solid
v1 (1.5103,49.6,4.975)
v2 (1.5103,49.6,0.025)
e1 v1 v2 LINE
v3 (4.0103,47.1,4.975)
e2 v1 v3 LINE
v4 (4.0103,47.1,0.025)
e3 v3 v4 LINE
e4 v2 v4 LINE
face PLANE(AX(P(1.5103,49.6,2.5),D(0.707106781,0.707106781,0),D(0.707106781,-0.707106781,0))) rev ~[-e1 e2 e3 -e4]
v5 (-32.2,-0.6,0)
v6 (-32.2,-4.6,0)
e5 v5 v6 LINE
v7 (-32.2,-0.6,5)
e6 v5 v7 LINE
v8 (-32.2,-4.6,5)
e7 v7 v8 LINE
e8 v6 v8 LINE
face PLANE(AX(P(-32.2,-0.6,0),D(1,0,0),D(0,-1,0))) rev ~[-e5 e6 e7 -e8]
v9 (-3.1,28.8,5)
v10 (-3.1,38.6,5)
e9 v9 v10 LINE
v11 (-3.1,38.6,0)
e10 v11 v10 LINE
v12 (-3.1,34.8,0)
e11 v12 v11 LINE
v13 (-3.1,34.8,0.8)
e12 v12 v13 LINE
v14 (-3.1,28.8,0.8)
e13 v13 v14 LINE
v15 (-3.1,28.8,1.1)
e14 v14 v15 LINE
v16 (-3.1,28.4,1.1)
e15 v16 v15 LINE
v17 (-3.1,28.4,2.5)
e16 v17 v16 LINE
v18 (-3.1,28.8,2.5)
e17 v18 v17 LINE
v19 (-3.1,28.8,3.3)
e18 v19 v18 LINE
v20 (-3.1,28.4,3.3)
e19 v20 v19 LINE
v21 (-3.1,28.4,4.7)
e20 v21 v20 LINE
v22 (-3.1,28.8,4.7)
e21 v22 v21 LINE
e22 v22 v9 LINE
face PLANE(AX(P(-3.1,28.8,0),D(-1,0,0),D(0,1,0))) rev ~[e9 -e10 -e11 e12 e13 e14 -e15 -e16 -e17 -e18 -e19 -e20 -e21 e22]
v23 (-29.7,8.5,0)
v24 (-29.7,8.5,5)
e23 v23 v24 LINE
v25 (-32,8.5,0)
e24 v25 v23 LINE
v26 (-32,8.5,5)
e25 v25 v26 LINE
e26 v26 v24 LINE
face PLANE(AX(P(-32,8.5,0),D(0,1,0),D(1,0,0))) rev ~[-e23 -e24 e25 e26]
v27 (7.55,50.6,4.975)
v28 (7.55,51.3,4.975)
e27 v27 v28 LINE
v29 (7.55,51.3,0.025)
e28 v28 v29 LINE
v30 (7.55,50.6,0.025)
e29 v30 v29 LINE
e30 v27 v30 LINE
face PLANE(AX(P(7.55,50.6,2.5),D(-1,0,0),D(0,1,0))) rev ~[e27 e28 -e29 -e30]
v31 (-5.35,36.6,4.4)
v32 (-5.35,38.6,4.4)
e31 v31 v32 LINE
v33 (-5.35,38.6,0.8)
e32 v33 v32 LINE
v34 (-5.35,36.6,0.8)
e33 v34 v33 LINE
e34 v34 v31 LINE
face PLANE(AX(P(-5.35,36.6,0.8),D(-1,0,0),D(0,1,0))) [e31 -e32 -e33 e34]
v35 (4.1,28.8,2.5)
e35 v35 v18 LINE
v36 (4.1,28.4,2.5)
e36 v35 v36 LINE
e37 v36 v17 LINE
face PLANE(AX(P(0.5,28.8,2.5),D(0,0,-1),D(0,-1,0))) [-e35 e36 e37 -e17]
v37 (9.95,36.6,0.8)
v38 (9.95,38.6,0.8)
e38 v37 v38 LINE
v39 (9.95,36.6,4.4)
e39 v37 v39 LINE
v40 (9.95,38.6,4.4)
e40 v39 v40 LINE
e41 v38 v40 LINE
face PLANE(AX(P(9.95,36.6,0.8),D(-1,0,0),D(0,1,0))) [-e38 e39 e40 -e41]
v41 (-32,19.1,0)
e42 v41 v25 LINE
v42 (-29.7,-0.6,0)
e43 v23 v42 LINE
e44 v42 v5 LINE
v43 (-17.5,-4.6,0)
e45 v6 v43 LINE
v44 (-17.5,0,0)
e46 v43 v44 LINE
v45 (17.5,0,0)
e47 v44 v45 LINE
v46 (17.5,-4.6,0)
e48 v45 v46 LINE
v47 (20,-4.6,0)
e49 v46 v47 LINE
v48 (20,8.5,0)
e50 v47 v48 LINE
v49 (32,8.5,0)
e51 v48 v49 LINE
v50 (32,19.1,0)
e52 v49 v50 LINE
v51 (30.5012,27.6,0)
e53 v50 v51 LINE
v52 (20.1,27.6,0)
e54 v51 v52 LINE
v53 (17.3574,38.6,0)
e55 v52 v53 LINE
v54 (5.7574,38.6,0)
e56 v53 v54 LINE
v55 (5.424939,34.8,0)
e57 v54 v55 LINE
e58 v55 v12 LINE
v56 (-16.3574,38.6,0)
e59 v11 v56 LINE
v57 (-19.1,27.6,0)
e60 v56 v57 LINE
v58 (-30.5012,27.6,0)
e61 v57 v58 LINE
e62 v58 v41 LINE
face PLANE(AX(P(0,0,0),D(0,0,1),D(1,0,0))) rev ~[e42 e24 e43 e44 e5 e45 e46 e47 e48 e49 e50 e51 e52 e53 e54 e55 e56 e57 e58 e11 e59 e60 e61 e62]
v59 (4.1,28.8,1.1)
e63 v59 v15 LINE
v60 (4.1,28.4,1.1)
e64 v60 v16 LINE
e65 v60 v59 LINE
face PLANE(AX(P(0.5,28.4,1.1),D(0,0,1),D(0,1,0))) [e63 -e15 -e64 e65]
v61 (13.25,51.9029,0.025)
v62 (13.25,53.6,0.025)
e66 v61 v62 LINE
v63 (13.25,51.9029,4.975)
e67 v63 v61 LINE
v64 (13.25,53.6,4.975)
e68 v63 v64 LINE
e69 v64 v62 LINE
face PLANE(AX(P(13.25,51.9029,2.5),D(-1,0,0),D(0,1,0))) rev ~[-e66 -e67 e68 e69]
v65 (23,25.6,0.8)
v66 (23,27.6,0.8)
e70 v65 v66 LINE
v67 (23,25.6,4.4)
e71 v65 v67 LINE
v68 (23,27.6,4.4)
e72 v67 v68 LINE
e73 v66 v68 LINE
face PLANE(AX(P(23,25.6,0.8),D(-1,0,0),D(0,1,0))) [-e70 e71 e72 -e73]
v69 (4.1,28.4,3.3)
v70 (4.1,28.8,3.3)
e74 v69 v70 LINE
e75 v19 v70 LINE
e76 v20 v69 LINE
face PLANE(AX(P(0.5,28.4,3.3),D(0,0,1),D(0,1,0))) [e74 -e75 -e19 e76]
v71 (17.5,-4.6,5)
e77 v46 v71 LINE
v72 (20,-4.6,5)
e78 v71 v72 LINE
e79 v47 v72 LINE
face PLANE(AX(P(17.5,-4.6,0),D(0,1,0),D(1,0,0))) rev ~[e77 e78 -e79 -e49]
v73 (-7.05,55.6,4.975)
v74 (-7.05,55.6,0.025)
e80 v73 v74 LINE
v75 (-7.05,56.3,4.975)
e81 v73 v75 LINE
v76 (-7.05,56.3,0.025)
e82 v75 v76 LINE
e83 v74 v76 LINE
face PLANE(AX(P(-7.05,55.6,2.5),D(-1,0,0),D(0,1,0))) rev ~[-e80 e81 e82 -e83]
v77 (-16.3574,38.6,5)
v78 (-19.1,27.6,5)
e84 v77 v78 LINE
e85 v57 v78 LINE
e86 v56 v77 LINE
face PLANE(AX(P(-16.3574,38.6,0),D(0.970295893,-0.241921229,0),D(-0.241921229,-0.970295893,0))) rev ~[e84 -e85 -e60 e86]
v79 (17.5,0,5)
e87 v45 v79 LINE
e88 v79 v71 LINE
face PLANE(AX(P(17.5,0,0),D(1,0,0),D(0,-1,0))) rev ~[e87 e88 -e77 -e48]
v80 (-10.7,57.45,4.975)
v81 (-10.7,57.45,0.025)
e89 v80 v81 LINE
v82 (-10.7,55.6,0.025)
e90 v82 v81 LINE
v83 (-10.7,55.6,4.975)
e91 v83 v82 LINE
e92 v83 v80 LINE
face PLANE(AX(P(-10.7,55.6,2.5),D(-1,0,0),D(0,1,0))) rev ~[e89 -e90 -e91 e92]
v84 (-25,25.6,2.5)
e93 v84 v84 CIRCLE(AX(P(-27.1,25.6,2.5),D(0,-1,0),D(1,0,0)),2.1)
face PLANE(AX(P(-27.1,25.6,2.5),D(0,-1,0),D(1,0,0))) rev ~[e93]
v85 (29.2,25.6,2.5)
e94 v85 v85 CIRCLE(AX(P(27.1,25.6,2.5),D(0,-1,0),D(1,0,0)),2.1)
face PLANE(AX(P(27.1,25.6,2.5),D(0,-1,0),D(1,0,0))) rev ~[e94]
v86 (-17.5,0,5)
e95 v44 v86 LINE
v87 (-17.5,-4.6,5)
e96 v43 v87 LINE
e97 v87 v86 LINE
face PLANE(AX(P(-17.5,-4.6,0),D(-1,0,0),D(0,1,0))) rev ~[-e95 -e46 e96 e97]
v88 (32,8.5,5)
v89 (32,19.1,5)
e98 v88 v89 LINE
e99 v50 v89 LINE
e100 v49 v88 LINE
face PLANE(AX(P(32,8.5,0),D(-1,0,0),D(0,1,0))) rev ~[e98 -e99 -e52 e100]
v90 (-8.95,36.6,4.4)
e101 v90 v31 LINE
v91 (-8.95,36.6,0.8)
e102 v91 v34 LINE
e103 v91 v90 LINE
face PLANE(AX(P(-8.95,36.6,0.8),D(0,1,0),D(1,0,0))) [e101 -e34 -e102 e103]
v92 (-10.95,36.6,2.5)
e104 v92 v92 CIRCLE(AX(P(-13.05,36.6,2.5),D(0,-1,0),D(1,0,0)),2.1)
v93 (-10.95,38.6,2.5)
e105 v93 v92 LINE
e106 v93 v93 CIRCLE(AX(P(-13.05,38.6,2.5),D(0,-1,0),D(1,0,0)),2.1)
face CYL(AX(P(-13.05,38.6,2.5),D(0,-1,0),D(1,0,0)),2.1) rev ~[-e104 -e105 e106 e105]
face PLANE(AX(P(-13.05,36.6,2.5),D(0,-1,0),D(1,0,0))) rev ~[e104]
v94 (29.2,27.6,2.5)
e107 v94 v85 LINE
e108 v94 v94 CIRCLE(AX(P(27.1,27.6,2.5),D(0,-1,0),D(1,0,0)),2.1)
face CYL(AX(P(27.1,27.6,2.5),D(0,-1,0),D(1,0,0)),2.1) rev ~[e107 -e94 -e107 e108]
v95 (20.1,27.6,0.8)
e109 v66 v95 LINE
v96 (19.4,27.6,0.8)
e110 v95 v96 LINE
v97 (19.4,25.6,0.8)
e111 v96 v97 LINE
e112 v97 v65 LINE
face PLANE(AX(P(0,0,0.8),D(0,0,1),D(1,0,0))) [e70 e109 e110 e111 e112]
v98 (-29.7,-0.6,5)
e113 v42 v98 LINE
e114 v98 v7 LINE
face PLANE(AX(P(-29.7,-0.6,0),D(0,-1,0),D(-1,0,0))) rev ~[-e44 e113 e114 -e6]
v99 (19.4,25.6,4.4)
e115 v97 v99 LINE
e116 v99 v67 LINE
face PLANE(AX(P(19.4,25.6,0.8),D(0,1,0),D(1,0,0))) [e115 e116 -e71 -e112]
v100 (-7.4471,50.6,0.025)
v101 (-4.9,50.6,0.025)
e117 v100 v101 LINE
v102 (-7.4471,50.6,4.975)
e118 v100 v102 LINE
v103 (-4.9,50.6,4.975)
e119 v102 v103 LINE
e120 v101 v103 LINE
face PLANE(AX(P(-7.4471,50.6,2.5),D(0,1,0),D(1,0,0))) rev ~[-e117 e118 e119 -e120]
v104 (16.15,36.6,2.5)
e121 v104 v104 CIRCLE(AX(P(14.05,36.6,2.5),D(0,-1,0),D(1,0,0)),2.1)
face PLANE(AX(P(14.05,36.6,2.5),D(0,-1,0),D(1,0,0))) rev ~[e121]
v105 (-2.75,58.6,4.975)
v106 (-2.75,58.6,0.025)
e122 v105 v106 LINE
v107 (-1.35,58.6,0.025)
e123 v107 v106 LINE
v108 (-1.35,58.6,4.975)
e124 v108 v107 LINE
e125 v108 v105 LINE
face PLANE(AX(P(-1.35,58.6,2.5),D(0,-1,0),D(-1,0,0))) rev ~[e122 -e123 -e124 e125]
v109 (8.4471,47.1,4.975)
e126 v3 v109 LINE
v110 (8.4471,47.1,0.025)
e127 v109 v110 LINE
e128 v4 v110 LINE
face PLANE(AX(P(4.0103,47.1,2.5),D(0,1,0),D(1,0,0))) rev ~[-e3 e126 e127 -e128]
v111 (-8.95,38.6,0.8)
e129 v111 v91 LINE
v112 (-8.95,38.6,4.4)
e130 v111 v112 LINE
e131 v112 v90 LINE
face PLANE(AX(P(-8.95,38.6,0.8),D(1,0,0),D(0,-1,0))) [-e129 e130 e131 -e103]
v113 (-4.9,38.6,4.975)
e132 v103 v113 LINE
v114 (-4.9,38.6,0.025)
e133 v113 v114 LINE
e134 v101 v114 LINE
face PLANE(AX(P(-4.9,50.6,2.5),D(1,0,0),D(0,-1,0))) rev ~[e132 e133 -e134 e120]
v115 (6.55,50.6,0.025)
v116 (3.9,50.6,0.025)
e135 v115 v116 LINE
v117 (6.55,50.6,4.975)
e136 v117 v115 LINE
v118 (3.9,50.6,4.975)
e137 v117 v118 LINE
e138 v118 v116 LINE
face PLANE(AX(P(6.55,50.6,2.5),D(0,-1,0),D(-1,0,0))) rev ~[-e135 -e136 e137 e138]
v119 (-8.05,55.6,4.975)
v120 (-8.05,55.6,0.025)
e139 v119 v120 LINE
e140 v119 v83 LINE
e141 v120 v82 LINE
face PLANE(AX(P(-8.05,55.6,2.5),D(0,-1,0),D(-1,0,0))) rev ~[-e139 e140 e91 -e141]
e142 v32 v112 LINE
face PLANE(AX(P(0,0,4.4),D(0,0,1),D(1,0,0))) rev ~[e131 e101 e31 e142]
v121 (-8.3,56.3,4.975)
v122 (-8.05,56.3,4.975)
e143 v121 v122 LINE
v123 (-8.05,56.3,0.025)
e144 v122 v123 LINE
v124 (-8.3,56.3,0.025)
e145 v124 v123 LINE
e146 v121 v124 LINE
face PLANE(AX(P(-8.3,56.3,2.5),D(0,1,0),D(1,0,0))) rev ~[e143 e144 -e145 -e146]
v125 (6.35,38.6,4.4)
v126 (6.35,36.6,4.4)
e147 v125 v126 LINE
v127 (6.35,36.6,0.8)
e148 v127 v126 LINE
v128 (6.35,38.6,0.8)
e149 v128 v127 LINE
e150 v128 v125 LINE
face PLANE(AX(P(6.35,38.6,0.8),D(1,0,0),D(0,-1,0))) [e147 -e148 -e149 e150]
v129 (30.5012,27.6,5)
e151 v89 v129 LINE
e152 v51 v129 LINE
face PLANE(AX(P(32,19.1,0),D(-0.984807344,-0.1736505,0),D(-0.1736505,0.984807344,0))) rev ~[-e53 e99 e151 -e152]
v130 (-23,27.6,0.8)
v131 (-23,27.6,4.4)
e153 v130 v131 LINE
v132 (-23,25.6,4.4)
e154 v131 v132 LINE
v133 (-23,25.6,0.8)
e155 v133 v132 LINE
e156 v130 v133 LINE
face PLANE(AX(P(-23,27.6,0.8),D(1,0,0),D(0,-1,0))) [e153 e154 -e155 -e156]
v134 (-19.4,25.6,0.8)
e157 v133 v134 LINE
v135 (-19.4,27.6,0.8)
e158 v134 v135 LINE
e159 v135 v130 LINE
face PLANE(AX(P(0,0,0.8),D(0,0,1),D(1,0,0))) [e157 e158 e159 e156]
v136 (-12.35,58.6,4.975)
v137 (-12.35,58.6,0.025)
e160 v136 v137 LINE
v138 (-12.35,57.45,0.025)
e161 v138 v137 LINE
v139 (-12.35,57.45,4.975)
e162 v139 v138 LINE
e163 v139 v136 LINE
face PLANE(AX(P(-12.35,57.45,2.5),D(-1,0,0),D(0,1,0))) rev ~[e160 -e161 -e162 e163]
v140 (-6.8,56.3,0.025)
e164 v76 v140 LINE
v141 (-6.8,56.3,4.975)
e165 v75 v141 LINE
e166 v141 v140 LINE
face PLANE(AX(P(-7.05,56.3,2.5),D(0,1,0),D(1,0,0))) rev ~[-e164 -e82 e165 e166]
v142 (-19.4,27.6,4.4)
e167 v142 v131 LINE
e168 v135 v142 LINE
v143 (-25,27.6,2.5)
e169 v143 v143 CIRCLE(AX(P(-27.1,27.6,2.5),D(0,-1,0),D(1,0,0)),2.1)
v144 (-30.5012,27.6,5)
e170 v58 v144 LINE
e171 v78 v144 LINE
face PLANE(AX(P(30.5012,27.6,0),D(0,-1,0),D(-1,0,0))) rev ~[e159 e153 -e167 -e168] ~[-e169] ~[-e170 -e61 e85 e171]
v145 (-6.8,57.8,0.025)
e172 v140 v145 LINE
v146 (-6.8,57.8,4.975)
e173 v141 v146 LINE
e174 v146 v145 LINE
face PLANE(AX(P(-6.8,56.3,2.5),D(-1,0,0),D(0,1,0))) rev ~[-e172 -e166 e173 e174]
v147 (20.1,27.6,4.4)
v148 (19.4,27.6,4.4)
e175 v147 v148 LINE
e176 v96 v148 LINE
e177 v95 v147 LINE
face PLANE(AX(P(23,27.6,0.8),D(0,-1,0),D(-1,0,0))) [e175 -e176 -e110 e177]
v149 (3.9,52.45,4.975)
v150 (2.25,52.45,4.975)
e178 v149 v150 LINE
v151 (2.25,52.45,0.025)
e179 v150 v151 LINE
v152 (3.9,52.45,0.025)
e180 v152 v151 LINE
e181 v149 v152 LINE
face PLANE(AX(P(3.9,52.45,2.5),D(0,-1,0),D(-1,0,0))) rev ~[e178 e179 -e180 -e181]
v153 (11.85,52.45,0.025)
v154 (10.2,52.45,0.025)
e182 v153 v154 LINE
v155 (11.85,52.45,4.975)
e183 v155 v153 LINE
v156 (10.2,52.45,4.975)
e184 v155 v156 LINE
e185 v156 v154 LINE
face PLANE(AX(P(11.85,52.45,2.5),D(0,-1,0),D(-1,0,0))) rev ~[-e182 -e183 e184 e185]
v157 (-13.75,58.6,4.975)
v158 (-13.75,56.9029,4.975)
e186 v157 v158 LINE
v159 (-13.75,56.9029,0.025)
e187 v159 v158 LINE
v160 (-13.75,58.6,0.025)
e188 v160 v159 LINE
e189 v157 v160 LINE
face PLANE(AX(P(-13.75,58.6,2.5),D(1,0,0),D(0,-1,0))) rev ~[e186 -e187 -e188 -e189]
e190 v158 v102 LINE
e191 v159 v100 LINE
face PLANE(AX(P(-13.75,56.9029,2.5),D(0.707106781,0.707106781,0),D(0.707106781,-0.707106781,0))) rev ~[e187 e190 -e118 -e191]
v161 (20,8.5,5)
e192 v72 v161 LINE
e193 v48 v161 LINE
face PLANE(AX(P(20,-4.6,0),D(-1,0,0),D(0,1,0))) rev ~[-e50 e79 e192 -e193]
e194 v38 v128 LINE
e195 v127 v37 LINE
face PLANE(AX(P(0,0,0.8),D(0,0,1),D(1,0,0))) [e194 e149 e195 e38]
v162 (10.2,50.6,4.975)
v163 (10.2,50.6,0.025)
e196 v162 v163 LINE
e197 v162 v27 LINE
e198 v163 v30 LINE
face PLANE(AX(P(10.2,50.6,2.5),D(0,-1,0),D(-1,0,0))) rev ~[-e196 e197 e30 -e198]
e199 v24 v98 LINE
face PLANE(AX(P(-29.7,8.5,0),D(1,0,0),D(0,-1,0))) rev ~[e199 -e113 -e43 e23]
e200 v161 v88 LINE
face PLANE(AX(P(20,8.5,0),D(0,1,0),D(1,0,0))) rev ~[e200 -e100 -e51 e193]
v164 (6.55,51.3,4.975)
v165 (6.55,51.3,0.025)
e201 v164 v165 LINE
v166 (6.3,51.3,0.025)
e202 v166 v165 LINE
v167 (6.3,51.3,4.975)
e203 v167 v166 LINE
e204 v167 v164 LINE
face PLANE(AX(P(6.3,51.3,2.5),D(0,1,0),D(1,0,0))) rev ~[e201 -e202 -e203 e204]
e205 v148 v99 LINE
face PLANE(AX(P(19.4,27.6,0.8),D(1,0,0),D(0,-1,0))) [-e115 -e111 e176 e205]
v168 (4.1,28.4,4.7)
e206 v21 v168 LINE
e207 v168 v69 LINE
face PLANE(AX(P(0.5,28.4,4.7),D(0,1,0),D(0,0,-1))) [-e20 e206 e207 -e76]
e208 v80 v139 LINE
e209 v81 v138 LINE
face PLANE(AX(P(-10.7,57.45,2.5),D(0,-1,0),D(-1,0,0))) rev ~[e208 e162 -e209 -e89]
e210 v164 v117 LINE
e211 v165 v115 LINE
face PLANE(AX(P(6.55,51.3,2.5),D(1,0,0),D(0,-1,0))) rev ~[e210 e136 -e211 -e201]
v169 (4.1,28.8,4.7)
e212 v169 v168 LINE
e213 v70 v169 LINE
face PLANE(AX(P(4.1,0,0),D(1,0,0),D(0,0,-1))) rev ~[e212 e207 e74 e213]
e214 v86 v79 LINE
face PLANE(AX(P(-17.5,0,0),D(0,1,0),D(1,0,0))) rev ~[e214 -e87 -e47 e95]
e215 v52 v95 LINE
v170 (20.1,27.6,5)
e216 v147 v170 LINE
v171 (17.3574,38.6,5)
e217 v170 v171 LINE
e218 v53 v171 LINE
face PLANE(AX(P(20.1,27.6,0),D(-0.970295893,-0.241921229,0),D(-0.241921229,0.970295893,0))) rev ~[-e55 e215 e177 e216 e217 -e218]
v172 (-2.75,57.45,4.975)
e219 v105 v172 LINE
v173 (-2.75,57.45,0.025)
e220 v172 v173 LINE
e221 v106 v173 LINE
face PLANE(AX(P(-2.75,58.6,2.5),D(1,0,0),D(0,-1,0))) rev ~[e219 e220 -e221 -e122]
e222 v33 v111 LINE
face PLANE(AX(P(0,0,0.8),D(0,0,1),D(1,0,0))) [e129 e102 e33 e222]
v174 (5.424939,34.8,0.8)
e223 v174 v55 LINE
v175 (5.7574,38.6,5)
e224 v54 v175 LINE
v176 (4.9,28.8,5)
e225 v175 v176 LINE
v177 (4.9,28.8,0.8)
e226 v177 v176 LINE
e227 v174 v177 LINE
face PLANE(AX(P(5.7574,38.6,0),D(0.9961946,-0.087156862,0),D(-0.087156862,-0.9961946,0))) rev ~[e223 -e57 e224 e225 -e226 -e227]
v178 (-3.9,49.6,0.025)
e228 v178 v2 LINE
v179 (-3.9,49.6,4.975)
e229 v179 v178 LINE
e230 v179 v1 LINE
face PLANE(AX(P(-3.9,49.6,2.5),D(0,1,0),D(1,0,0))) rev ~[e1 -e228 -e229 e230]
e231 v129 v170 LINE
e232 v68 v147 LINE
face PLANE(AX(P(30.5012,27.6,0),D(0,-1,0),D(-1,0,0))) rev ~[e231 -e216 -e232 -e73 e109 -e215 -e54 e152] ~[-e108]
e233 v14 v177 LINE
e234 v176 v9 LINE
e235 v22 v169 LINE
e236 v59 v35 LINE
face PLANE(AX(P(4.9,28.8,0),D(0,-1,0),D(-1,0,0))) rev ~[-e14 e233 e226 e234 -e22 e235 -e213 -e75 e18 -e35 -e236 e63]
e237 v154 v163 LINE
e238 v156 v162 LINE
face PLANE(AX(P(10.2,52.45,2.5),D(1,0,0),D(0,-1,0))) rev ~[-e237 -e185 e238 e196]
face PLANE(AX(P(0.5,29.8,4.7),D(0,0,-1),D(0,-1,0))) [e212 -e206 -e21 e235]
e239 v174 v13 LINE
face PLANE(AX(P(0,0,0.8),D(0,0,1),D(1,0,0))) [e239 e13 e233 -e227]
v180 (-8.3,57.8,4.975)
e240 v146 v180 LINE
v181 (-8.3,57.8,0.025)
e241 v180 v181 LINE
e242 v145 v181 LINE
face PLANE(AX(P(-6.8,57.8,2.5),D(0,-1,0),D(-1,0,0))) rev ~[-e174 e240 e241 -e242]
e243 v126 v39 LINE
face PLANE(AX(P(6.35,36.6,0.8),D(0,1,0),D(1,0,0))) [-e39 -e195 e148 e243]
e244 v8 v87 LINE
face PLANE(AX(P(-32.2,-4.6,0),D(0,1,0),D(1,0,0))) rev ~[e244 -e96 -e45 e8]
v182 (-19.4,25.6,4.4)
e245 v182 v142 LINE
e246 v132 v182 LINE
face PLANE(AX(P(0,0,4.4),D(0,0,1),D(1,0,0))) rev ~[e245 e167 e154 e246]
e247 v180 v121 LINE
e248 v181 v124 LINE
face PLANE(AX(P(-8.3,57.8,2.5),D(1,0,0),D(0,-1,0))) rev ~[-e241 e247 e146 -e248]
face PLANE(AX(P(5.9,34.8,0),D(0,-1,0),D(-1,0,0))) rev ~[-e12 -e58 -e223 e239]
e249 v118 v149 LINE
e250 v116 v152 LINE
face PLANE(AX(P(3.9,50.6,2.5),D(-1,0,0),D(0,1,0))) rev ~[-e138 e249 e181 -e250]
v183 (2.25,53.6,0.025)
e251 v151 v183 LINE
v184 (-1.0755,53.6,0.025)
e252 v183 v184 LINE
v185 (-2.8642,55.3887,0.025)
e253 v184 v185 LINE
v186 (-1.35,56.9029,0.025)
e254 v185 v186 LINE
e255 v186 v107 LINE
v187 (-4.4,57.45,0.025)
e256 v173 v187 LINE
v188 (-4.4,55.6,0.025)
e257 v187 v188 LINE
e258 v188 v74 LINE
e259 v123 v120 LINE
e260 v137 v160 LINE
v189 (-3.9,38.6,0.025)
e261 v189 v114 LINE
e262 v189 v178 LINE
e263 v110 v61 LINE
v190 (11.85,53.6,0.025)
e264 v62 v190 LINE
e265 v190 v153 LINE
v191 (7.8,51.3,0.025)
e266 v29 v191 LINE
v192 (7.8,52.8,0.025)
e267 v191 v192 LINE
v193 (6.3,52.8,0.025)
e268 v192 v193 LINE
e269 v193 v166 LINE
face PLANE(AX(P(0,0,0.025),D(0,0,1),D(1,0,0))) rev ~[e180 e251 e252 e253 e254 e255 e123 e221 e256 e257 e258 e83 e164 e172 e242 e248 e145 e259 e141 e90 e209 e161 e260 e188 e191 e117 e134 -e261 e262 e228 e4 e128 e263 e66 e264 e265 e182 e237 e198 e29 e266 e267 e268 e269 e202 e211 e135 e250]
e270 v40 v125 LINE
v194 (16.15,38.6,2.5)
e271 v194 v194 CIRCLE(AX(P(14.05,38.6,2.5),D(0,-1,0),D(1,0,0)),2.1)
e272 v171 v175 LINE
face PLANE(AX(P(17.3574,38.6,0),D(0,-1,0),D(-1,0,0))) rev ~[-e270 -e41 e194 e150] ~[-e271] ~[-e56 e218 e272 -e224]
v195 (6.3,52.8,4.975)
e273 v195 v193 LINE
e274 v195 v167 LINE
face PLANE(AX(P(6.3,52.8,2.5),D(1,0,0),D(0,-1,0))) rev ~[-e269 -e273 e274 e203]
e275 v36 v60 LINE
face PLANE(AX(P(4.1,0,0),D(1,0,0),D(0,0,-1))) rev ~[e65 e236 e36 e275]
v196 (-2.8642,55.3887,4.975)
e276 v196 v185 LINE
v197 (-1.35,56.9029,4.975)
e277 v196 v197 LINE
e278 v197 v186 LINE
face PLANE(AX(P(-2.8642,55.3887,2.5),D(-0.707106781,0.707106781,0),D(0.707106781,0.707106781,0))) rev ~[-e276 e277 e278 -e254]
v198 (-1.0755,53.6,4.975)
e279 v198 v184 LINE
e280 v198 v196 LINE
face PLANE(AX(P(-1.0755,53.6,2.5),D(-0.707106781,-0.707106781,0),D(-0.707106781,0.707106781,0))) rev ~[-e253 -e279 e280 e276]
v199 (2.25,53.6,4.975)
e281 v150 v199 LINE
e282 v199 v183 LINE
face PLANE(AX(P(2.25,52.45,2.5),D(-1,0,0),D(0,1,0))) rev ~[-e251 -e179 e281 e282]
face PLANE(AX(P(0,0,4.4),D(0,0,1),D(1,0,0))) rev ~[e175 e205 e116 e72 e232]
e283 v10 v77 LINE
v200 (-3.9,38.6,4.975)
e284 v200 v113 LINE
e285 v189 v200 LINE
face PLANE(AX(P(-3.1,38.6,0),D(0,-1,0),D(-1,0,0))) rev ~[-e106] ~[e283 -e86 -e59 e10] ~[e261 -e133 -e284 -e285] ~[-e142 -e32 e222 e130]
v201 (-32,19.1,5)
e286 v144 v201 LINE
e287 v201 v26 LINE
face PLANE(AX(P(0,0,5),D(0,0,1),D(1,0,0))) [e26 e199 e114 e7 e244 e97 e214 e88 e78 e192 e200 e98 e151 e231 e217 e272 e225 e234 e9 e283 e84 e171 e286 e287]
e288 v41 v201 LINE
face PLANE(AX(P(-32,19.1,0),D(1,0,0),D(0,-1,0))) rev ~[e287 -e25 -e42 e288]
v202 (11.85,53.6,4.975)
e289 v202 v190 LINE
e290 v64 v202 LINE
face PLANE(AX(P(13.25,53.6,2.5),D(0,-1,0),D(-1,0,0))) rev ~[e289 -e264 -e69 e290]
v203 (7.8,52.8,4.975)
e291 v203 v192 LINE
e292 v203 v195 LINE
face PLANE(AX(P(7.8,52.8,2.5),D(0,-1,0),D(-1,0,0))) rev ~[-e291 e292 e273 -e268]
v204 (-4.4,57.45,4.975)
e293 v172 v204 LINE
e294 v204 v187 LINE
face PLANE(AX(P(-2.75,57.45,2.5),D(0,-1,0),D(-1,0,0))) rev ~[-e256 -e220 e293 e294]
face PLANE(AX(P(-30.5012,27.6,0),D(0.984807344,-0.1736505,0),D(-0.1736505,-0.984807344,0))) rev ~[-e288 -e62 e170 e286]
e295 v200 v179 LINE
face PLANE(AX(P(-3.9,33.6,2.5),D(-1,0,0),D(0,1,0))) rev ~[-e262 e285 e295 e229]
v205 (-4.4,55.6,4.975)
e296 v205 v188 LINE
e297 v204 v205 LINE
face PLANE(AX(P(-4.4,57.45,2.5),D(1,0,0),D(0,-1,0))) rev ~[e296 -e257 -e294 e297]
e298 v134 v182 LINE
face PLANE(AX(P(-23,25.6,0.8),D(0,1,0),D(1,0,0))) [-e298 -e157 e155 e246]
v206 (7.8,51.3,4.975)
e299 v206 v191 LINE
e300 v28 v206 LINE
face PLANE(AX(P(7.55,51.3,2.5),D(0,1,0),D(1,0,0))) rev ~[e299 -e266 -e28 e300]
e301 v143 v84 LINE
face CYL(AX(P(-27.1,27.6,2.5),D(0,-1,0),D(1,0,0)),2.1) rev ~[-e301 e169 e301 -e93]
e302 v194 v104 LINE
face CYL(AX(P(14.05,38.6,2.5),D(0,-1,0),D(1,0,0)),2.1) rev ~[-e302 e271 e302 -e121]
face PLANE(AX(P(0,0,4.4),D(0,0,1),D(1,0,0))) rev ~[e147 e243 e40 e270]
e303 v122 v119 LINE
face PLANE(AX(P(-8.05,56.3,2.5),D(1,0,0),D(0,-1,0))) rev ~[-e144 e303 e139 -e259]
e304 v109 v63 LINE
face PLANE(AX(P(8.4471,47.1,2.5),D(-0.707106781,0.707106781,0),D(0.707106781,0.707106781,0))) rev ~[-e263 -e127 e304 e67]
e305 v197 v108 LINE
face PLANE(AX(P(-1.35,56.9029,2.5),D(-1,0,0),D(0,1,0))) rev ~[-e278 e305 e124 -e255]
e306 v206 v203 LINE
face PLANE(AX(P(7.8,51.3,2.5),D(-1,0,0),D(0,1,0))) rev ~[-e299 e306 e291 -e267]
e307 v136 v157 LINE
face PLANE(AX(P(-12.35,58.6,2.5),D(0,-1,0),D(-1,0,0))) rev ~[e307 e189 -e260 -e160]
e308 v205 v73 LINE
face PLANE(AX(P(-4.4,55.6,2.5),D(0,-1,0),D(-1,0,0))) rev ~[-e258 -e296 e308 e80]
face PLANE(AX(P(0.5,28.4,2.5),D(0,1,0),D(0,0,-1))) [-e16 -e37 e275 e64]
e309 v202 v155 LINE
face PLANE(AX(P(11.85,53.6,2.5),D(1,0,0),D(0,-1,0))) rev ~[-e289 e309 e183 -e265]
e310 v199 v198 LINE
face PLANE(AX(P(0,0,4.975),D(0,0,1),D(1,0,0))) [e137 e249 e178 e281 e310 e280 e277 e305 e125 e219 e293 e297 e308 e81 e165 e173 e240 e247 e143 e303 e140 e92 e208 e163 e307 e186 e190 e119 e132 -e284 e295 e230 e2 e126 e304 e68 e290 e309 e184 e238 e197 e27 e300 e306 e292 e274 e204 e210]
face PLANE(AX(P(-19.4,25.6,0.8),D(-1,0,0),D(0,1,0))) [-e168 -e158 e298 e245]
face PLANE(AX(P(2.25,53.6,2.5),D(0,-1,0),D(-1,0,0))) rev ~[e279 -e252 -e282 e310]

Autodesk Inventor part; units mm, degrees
sketch "Sketch_1" plane through (0, 0, 0) normal (0, 0, 1) x (1, 0, 0)
  line L0 (-32.2, -0.6) -> (-32.2, -4.6)
  line L1 (-32.2, -4.6) -> (-17.5, -4.6)
  line L2 (-17.5, -4.6) -> (-17.5, 0)
  line L3 (-17.5, 0) -> (17.5, 0)
  line L4 (17.5, 0) -> (17.5, -4.6)
  line L5 (17.5, -4.6) -> (20, -4.6)
  line L6 (20, -4.6) -> (20, 8.5)
  line L7 (20, 8.5) -> (32, 8.5)
  line L8 (32, 8.5) -> (32, 19.1)
  line L9 (32, 19.1) -> (30.5012, 27.6)
  line L10 (30.5012, 27.6) -> (-30.5012, 27.6)
  line L11 (-30.5012, 27.6) -> (-32, 19.1)
  line L12 (-32, 19.1) -> (-32, 8.5)
  line L13 (-32, 8.5) -> (-29.7, 8.5)
  line L14 (-29.7, 8.5) -> (-29.7, -0.6)
  line L15 (-29.7, -0.6) -> (-32.2, -0.6)
extrude "Extrusion1" add sketch "Sketch_1" along normal blind 5
sketch "Sketch_2" plane through (0, 0, 0) normal (0, 0, 1) x (1, 0, 0)
  line L0 (-19.1, 27.6) -> (-18.2, 27.6)
  line L1 (-18.2, 27.6) -> (-18.2, 15.1)
  line L2 (-18.2, 15.1) -> (19.2, 15.1)
  line L3 (19.2, 15.1) -> (19.2, 27.6)
  line L4 (19.2, 27.6) -> (20.1, 27.6)
  line L5 (20.1, 27.6) -> (17.3574, 38.6)
  line L6 (17.3574, 38.6) -> (5.7574, 38.6)
  line L7 (5.7574, 38.6) -> (4.9, 28.8)
  line L8 (4.9, 28.8) -> (-3.1, 28.8)
  line L9 (-3.1, 28.8) -> (-3.1, 38.6)
  line L10 (-3.1, 38.6) -> (-16.3574, 38.6)
  line L11 (-16.3574, 38.6) -> (-19.1, 27.6)
extrude "Extrusion2" add sketch "Sketch_2" along normal blind 5
sketch "Skizze_3" plane through (0, 0, 0) normal (0, 0, 1) x (1, 0, 0)
  line L0 (-3.1, 34.8) -> (-3.1, 28.8)
  line L1 (-3.1, 28.8) -> (5.9, 28.8)
  line L2 (5.9, 28.8) -> (5.9, 34.8)
  line L3 (5.9, 34.8) -> (-3.1, 34.8)
extrude "Extrusion3" add sketch "Skizze_3" along normal blind 0.8
sketch "Sketch_3" plane through (0.5, 0, 0) normal (1, 0, 0) x (0, 0, -1)
  line L0 (-4.7, 28.4) -> (-3.3, 28.4)
  line L1 (-3.3, 28.4) -> (-3.3, 28.8)
  line L2 (-3.3, 28.8) -> (-2.5, 28.8)
  line L3 (-2.5, 28.8) -> (-2.5, 28.4)
  line L4 (-2.5, 28.4) -> (-1.1, 28.4)
  line L5 (-1.1, 28.4) -> (-1.1, 29.8)
  line L6 (-1.1, 29.8) -> (-4.7, 29.8)
  line L7 (-4.7, 29.8) -> (-4.7, 28.4)
extrude "Extrusion4" cut sketch "Sketch_3" along normal mid plane 7.2
sketch "Sketch_4" plane through (0, 0, 2.5) normal (0, 0, 1) x (1, 0, 0)
  line L0 (27.1, 25.6) -> (27.1, 27.6)
  line L1 (27.1, 27.6) -> (29.2, 27.6)
  line L2 (29.2, 27.6) -> (29.2, 25.6)
  line L3 (29.2, 25.6) -> (27.1, 25.6)
  line L4 (27.1, 25.6) -> (27.1, 27.6)
revolve "Revolution1" cut sketch "Sketch_4" angle 360 about axis through (27.1, 25.6, 2.5) along (0, -1, 0)
sketch "Sketch_5" plane through (0, 0, 2.5) normal (0, 0, 1) x (1, 0, 0)
  line L0 (-27.1, 25.6) -> (-27.1, 27.6)
  line L1 (-27.1, 27.6) -> (-25, 27.6)
  line L2 (-25, 27.6) -> (-25, 25.6)
  line L3 (-25, 25.6) -> (-27.1, 25.6)
  line L4 (-27.1, 25.6) -> (-27.1, 27.6)
revolve "Revolution2" cut sketch "Sketch_5" angle 360 about axis through (-27.1, 25.6, 2.5) along (0, -1, 0)
sketch "Sketch_6" plane through (0, 0, 2.5) normal (0, 0, 1) x (1, 0, 0)
  line L0 (14.05, 36.6) -> (14.05, 38.6)
  line L1 (14.05, 38.6) -> (16.15, 38.6)
  line L2 (16.15, 38.6) -> (16.15, 36.6)
  line L3 (16.15, 36.6) -> (14.05, 36.6)
  line L4 (14.05, 36.6) -> (14.05, 38.6)
revolve "Revolution3" cut sketch "Sketch_6" angle 360 about axis through (14.05, 36.6, 2.5) along (0, -1, 0)
sketch "Sketch_7" plane through (0, 0, 2.5) normal (0, 0, 1) x (1, 0, 0)
  line L0 (-13.05, 36.6) -> (-13.05, 38.6)
  line L1 (-13.05, 38.6) -> (-10.95, 38.6)
  line L2 (-10.95, 38.6) -> (-10.95, 36.6)
  line L3 (-10.95, 36.6) -> (-13.05, 36.6)
  line L4 (-13.05, 36.6) -> (-13.05, 38.6)
revolve "Revolution4" cut sketch "Sketch_7" angle 360 about axis through (-13.05, 36.6, 2.5) along (0, -1, 0)
sketch "Skizze_15" plane through (0, 0, 2.5) normal (0, 0, 1) x (1, 0, 0)
  line L0 (-4.9, 36.6) -> (-3.9, 36.6)
  line L1 (-3.9, 36.6) -> (-3.9, 38.6)
  line L2 (-3.9, 38.6) -> (-4.9, 38.6)
  line L3 (-4.9, 38.6) -> (-4.9, 36.6)
extrude "Extrusion5" cut sketch "Skizze_15" along normal mid plane 4.1
sketch "Skizze_11" plane through (0, 0, 0.8) normal (0, 0, 1) x (1, 0, 0)
  line L0 (19.4, 25.6) -> (23, 25.6)
  line L1 (23, 25.6) -> (23, 27.6)
  line L2 (23, 27.6) -> (19.4, 27.6)
  line L3 (19.4, 27.6) -> (19.4, 25.6)
extrude "Extrusion6" cut sketch "Skizze_11" along normal blind 3.6
sketch "Skizze_12" plane through (0, 0, 0.8) normal (0, 0, 1) x (1, 0, 0)
  line L0 (-23, 25.6) -> (-19.4, 25.6)
  line L1 (-19.4, 25.6) -> (-19.4, 27.6)
  line L2 (-19.4, 27.6) -> (-23, 27.6)
  line L3 (-23, 27.6) -> (-23, 25.6)
extrude "Extrusion7" cut sketch "Skizze_12" along normal blind 3.6
sketch "Skizze_13" plane through (0, 0, 0.8) normal (0, 0, 1) x (1, 0, 0)
  line L0 (6.35, 36.6) -> (9.95, 36.6)
  line L1 (9.95, 36.6) -> (9.95, 38.6)
  line L2 (9.95, 38.6) -> (6.35, 38.6)
  line L3 (6.35, 38.6) -> (6.35, 36.6)
extrude "Extrusion8" cut sketch "Skizze_13" along normal blind 3.6
sketch "Skizze_14" plane through (0, 0, 0.8) normal (0, 0, 1) x (1, 0, 0)
  line L0 (-8.95, 36.6) -> (-5.35, 36.6)
  line L1 (-5.35, 36.6) -> (-5.35, 38.6)
  line L2 (-5.35, 38.6) -> (-8.95, 38.6)
  line L3 (-8.95, 38.6) -> (-8.95, 36.6)
extrude "Extrusion9" cut sketch "Skizze_14" along normal blind 3.6
sketch "Sketch_8" plane through (0, 0, 2.5) normal (0, 0, 1) x (1, 0, 0)
  line L0 (-13.75, 56.9029) -> (-7.4471, 50.6)
  line L1 (-7.4471, 50.6) -> (-4.9, 50.6)
  line L2 (-4.9, 50.6) -> (-4.9, 33.6)
  line L3 (-4.9, 33.6) -> (-3.9, 33.6)
  line L4 (-3.9, 33.6) -> (-3.9, 49.6)
  line L5 (-3.9, 49.6) -> (1.5103, 49.6)
  line L6 (1.5103, 49.6) -> (4.0103, 47.1)
  line L7 (4.0103, 47.1) -> (8.4471, 47.1)
  line L8 (8.4471, 47.1) -> (13.25, 51.9029)
  line L9 (13.25, 51.9029) -> (13.25, 53.6)
  line L10 (13.25, 53.6) -> (11.85, 53.6)
  line L11 (11.85, 53.6) -> (11.85, 52.45)
  line L12 (11.85, 52.45) -> (10.2, 52.45)
  line L13 (10.2, 52.45) -> (10.2, 50.6)
  line L14 (10.2, 50.6) -> (7.55, 50.6)
  line L15 (7.55, 50.6) -> (7.55, 51.3)
  line L16 (7.55, 51.3) -> (7.8, 51.3)
  line L17 (7.8, 51.3) -> (7.8, 52.8)
  line L18 (7.8, 52.8) -> (6.3, 52.8)
  line L19 (6.3, 52.8) -> (6.3, 51.3)
  line L20 (6.3, 51.3) -> (6.55, 51.3)
  line L21 (6.55, 51.3) -> (6.55, 50.6)
  line L22 (6.55, 50.6) -> (3.9, 50.6)
  line L23 (3.9, 50.6) -> (3.9, 52.45)
  line L24 (3.9, 52.45) -> (2.25, 52.45)
  line L25 (2.25, 52.45) -> (2.25, 53.6)
  line L26 (2.25, 53.6) -> (-1.0755, 53.6)
  line L27 (-1.0755, 53.6) -> (-2.8642, 55.3887)
  line L28 (-2.8642, 55.3887) -> (-1.35, 56.9029)
  line L29 (-1.35, 56.9029) -> (-1.35, 58.6)
  line L30 (-1.35, 58.6) -> (-2.75, 58.6)
  line L31 (-2.75, 58.6) -> (-2.75, 57.45)
  line L32 (-2.75, 57.45) -> (-4.4, 57.45)
  line L33 (-4.4, 57.45) -> (-4.4, 55.6)
  line L34 (-4.4, 55.6) -> (-7.05, 55.6)
  line L35 (-7.05, 55.6) -> (-7.05, 56.3)
  line L36 (-7.05, 56.3) -> (-6.8, 56.3)
  line L37 (-6.8, 56.3) -> (-6.8, 57.8)
  line L38 (-6.8, 57.8) -> (-8.3, 57.8)
  line L39 (-8.3, 57.8) -> (-8.3, 56.3)
  line L40 (-8.3, 56.3) -> (-8.05, 56.3)
  line L41 (-8.05, 56.3) -> (-8.05, 55.6)
  line L42 (-8.05, 55.6) -> (-10.7, 55.6)
  line L43 (-10.7, 55.6) -> (-10.7, 57.45)
  line L44 (-10.7, 57.45) -> (-12.35, 57.45)
  line L45 (-12.35, 57.45) -> (-12.35, 58.6)
  line L46 (-12.35, 58.6) -> (-13.75, 58.6)
  line L47 (-13.75, 58.6) -> (-13.75, 56.9029)
extrude "Extrusion10" add sketch "Sketch_8" along normal mid plane 4.95
ref_plane "1_1001_XY" through (7.05, 53.6, 2.5) normal (0, 1, 0) x (-1, 0, 0)
ref_plane "1_1001_YZ" through (7.05, 53.6, 2.5) normal (-1, 0, 0) x (0, 0, 1)
ref_plane "1_1001_ZX" through (7.05, 53.6, 2.5) normal (0, 0, 1) x (0, 1, 0)
ref_plane "1_1002_XY" through (-7.55, 58.6, 2.5) normal (0, 1, 0) x (-1, 0, 0)
ref_plane "1_1002_YZ" through (-7.55, 58.6, 2.5) normal (-1, 0, 0) x (0, 0, 1)
ref_plane "1_1002_ZX" through (-7.55, 58.6, 2.5) normal (0, 0, 1) x (0, 1, 0)
ref_plane "1_13_XY" through (0.4, 28.8, 2) normal (0, 1, 0) x (-1, 0, 0)
ref_plane "1_13_YZ" through (0.4, 28.8, 2) normal (-1, 0, 0) x (0, 0, 1)
ref_plane "1_13_ZX" through (0.4, 28.8, 2) normal (0, 0, 1) x (0, 1, 0)
ref_plane "1_14_XY" through (0.4, 28.8, 3.8) normal (0, 1, 0) x (-1, 0, 0)
ref_plane "1_14_YZ" through (0.4, 28.8, 3.8) normal (-1, 0, 0) x (0, 0, 1)
ref_plane "1_14_ZX" through (0.4, 28.8, 3.8) normal (0, 0, 1) x (0, 1, 0)
ref_plane "1_2_XY" through (-21.2, 27.6, 2.6) normal (0, 1, 0) x (1, 0, 0)
ref_plane "1_2_YZ" through (-21.2, 27.6, 2.6) normal (1, 0, 0) x (0, 0, -1)
ref_plane "1_2_ZX" through (-21.2, 27.6, 2.6) normal (0, 0, -1) x (0, 1, 0)
ref_plane "1_3_XY" through (-7.15, 38.6, 2.6) normal (0, 1, 0) x (1, 0, 0)
ref_plane "1_3_YZ" through (-7.15, 38.6, 2.6) normal (1, 0, 0) x (0, 0, -1)
ref_plane "1_3_ZX" through (-7.15, 38.6, 2.6) normal (0, 0, -1) x (0, 1, 0)
ref_plane "1_4_XY" through (8.15, 38.6, 2.6) normal (0, 1, 0) x (-1, 0, 0)
ref_plane "1_4_YZ" through (8.15, 38.6, 2.6) normal (-1, 0, 0) x (0, 0, 1)
ref_plane "1_4_ZX" through (8.15, 38.6, 2.6) normal (0, 0, 1) x (0, 1, 0)
ref_plane "1_5_XY" through (21.55, 27.6, 2.6) normal (0, 1, 0) x (-1, 0, 0)
ref_plane "1_5_YZ" through (21.55, 27.6, 2.6) normal (-1, 0, 0) x (0, 0, 1)
ref_plane "1_5_ZX" through (21.55, 27.6, 2.6) normal (0, 0, 1) x (0, 1, 0)
ref_plane "1_6_XY" through (-27.1, 27.6, 2.5) normal (0, 1, 0) x (1, 0, 0)
ref_plane "1_6_YZ" through (-27.1, 27.6, 2.5) normal (1, 0, 0) x (0, 0, -1)
ref_plane "1_6_ZX" through (-27.1, 27.6, 2.5) normal (0, 0, -1) x (0, 1, 0)
ref_plane "1_7_XY" through (-13.05, 38.6, 2.5) normal (0, 1, 0) x (1, 0, 0)
ref_plane "1_7_YZ" through (-13.05, 38.6, 2.5) normal (1, 0, 0) x (0, 0, -1)
ref_plane "1_7_ZX" through (-13.05, 38.6, 2.5) normal (0, 0, -1) x (0, 1, 0)
ref_plane "1_8_XY" through (14.05, 38.6, 2.5) normal (0, 1, 0) x (-1, 0, 0)
ref_plane "1_8_YZ" through (14.05, 38.6, 2.5) normal (-1, 0, 0) x (0, 0, 1)
ref_plane "1_8_ZX" through (14.05, 38.6, 2.5) normal (0, 0, 1) x (0, 1, 0)
ref_plane "1_9_XY" through (27.1, 27.6, 2.5) normal (0, 1, 0) x (-1, 0, 0)
ref_plane "1_9_YZ" through (27.1, 27.6, 2.5) normal (-1, 0, 0) x (0, 0, 1)
ref_plane "1_9_ZX" through (27.1, 27.6, 2.5) normal (0, 0, 1) x (0, 1, 0)
ref_plane "MD_XY" through (0, 0, 0) normal (0, -1, 0) x (0, 0, 1)
ref_plane "MD_YZ" through (0, 0, 0) normal (0, 0, 1) x (-1, 0, 0)
ref_plane "MD_ZX" through (0, 0, 0) normal (-1, 0, 0) x (0, -1, 0)
ref_plane "OP_XY" through (-32.2, -4.6, 0) normal (0, 1, 0) x (0, 0, 1)
ref_plane "OP_YZ" through (-32.2, -4.6, 0) normal (0, 0, 1) x (1, 0, 0)
ref_plane "OP_ZX" through (-32.2, -4.6, 0) normal (1, 0, 0) x (0, 1, 0)
ref_plane "a1_XY" through (27.1, 12.6, 2.5) normal (0, 1, 0) x (-1, 0, 0)
ref_plane "a1_YZ" through (27.1, 12.6, 2.5) normal (-1, 0, 0) x (0, 0, 1)
ref_plane "a1_ZX" through (27.1, 12.6, 2.5) normal (0, 0, 1) x (0, 1, 0)
ref_plane "a2_XY" through (14.05, 23.6, 2.5) normal (0, 1, 0) x (-1, 0, 0)
ref_plane "a2_YZ" through (14.05, 23.6, 2.5) normal (-1, 0, 0) x (0, 0, 1)
ref_plane "a2_ZX" through (14.05, 23.6, 2.5) normal (0, 0, 1) x (0, 1, 0)
ref_plane "b3_XY" through (-13.05, 23.6, 2.5) normal (0, 1, 0) x (1, 0, 0)
ref_plane "b3_YZ" through (-13.05, 23.6, 2.5) normal (1, 0, 0) x (0, 0, -1)
ref_plane "b3_ZX" through (-13.05, 23.6, 2.5) normal (0, 0, -1) x (0, 1, 0)
ref_plane "b4_XY" through (-27.1, 12.6, 2.5) normal (0, 1, 0) x (1, 0, 0)
ref_plane "b4_YZ" through (-27.1, 12.6, 2.5) normal (1, 0, 0) x (0, 0, -1)
ref_plane "b4_ZX" through (-27.1, 12.6, 2.5) normal (0, 0, -1) x (0, 1, 0)
ref_plane "j5_XY" through (0.4, 22.8, 2) normal (0, 1, 0) x (-1, 0, 0)
ref_plane "j5_YZ" through (0.4, 22.8, 2) normal (-1, 0, 0) x (0, 0, 1)
ref_plane "j5_ZX" through (0.4, 22.8, 2) normal (0, 0, 1) x (0, 1, 0)
ref_plane "j6_XY" through (0.4, 22.8, 3.8) normal (0, 1, 0) x (-1, 0, 0)
ref_plane "j6_YZ" through (0.4, 22.8, 3.8) normal (-1, 0, 0) x (0, 0, 1)
ref_plane "j6_ZX" through (0.4, 22.8, 3.8) normal (0, 0, 1) x (0, 1, 0)
ref_plane "m7_XY" through (7.05, 53.6, 2.5) normal (0, 1, 0) x (-1, 0, 0)
ref_plane "m7_YZ" through (7.05, 53.6, 2.5) normal (-1, 0, 0) x (0, 0, 1)
ref_plane "m7_ZX" through (7.05, 53.6, 2.5) normal (0, 0, 1) x (0, 1, 0)
ref_plane "m8_XY" through (-7.55, 58.6, 2.5) normal (0, 1, 0) x (-1, 0, 0)
ref_plane "m8_YZ" through (-7.55, 58.6, 2.5) normal (-1, 0, 0) x (0, 0, 1)
ref_plane "m8_ZX" through (-7.55, 58.6, 2.5) normal (0, 0, 1) x (0, 1, 0)
ref_plane "z10_XY" through (8.15, 38.6, 2.6) normal (0, 1, 0) x (-1, 0, 0)
ref_plane "z10_YZ" through (8.15, 38.6, 2.6) normal (-1, 0, 0) x (0, 0, 1)
ref_plane "z10_ZX" through (8.15, 38.6, 2.6) normal (0, 0, 1) x (0, 1, 0)
ref_plane "z11_XY" through (-7.15, 38.6, 2.6) normal (0, 1, 0) x (1, 0, 0)
ref_plane "z11_YZ" through (-7.15, 38.6, 2.6) normal (1, 0, 0) x (0, 0, -1)
ref_plane "z11_ZX" through (-7.15, 38.6, 2.6) normal (0, 0, -1) x (0, 1, 0)
ref_plane "z12_XY" through (-21.2, 27.6, 2.6) normal (0, 1, 0) x (1, 0, 0)
ref_plane "z12_YZ" through (-21.2, 27.6, 2.6) normal (1, 0, 0) x (0, 0, -1)
ref_plane "z12_ZX" through (-21.2, 27.6, 2.6) normal (0, 0, -1) x (0, 1, 0)
ref_plane "z9_XY" through (21.55, 27.6, 2.6) normal (0, 1, 0) x (-1, 0, 0)
ref_plane "z9_YZ" through (21.55, 27.6, 2.6) normal (-1, 0, 0) x (0, 0, 1)
ref_plane "z9_ZX" through (21.55, 27.6, 2.6) normal (0, 0, 1) x (0, 1, 0)
sketch "Sketch15" plane through (-27.1, 25.6, 2.5) normal (0, 1, 0) x (1, 0, 0)
  circle A0 centre (0, 0) radius 2.1 projected
sketch "Sketch16" plane through (-13.05, 36.6, 2.5) normal (0, 1, 0) x (1, 0, 0)
  circle A0 centre (0, 0) radius 2.1 projected
sketch "Sketch17" plane through (14.05, 36.6, 2.5) normal (0, 1, 0) x (1, 0, 0)
  circle A0 centre (0, 0) radius 2.1 projected
sketch "Sketch18" plane through (27.1, 25.6, 2.5) normal (0, 1, 0) x (1, 0, 0)
  circle A0 centre (0, 0) radius 2.1 projected
properties part number "280-519_LO"
